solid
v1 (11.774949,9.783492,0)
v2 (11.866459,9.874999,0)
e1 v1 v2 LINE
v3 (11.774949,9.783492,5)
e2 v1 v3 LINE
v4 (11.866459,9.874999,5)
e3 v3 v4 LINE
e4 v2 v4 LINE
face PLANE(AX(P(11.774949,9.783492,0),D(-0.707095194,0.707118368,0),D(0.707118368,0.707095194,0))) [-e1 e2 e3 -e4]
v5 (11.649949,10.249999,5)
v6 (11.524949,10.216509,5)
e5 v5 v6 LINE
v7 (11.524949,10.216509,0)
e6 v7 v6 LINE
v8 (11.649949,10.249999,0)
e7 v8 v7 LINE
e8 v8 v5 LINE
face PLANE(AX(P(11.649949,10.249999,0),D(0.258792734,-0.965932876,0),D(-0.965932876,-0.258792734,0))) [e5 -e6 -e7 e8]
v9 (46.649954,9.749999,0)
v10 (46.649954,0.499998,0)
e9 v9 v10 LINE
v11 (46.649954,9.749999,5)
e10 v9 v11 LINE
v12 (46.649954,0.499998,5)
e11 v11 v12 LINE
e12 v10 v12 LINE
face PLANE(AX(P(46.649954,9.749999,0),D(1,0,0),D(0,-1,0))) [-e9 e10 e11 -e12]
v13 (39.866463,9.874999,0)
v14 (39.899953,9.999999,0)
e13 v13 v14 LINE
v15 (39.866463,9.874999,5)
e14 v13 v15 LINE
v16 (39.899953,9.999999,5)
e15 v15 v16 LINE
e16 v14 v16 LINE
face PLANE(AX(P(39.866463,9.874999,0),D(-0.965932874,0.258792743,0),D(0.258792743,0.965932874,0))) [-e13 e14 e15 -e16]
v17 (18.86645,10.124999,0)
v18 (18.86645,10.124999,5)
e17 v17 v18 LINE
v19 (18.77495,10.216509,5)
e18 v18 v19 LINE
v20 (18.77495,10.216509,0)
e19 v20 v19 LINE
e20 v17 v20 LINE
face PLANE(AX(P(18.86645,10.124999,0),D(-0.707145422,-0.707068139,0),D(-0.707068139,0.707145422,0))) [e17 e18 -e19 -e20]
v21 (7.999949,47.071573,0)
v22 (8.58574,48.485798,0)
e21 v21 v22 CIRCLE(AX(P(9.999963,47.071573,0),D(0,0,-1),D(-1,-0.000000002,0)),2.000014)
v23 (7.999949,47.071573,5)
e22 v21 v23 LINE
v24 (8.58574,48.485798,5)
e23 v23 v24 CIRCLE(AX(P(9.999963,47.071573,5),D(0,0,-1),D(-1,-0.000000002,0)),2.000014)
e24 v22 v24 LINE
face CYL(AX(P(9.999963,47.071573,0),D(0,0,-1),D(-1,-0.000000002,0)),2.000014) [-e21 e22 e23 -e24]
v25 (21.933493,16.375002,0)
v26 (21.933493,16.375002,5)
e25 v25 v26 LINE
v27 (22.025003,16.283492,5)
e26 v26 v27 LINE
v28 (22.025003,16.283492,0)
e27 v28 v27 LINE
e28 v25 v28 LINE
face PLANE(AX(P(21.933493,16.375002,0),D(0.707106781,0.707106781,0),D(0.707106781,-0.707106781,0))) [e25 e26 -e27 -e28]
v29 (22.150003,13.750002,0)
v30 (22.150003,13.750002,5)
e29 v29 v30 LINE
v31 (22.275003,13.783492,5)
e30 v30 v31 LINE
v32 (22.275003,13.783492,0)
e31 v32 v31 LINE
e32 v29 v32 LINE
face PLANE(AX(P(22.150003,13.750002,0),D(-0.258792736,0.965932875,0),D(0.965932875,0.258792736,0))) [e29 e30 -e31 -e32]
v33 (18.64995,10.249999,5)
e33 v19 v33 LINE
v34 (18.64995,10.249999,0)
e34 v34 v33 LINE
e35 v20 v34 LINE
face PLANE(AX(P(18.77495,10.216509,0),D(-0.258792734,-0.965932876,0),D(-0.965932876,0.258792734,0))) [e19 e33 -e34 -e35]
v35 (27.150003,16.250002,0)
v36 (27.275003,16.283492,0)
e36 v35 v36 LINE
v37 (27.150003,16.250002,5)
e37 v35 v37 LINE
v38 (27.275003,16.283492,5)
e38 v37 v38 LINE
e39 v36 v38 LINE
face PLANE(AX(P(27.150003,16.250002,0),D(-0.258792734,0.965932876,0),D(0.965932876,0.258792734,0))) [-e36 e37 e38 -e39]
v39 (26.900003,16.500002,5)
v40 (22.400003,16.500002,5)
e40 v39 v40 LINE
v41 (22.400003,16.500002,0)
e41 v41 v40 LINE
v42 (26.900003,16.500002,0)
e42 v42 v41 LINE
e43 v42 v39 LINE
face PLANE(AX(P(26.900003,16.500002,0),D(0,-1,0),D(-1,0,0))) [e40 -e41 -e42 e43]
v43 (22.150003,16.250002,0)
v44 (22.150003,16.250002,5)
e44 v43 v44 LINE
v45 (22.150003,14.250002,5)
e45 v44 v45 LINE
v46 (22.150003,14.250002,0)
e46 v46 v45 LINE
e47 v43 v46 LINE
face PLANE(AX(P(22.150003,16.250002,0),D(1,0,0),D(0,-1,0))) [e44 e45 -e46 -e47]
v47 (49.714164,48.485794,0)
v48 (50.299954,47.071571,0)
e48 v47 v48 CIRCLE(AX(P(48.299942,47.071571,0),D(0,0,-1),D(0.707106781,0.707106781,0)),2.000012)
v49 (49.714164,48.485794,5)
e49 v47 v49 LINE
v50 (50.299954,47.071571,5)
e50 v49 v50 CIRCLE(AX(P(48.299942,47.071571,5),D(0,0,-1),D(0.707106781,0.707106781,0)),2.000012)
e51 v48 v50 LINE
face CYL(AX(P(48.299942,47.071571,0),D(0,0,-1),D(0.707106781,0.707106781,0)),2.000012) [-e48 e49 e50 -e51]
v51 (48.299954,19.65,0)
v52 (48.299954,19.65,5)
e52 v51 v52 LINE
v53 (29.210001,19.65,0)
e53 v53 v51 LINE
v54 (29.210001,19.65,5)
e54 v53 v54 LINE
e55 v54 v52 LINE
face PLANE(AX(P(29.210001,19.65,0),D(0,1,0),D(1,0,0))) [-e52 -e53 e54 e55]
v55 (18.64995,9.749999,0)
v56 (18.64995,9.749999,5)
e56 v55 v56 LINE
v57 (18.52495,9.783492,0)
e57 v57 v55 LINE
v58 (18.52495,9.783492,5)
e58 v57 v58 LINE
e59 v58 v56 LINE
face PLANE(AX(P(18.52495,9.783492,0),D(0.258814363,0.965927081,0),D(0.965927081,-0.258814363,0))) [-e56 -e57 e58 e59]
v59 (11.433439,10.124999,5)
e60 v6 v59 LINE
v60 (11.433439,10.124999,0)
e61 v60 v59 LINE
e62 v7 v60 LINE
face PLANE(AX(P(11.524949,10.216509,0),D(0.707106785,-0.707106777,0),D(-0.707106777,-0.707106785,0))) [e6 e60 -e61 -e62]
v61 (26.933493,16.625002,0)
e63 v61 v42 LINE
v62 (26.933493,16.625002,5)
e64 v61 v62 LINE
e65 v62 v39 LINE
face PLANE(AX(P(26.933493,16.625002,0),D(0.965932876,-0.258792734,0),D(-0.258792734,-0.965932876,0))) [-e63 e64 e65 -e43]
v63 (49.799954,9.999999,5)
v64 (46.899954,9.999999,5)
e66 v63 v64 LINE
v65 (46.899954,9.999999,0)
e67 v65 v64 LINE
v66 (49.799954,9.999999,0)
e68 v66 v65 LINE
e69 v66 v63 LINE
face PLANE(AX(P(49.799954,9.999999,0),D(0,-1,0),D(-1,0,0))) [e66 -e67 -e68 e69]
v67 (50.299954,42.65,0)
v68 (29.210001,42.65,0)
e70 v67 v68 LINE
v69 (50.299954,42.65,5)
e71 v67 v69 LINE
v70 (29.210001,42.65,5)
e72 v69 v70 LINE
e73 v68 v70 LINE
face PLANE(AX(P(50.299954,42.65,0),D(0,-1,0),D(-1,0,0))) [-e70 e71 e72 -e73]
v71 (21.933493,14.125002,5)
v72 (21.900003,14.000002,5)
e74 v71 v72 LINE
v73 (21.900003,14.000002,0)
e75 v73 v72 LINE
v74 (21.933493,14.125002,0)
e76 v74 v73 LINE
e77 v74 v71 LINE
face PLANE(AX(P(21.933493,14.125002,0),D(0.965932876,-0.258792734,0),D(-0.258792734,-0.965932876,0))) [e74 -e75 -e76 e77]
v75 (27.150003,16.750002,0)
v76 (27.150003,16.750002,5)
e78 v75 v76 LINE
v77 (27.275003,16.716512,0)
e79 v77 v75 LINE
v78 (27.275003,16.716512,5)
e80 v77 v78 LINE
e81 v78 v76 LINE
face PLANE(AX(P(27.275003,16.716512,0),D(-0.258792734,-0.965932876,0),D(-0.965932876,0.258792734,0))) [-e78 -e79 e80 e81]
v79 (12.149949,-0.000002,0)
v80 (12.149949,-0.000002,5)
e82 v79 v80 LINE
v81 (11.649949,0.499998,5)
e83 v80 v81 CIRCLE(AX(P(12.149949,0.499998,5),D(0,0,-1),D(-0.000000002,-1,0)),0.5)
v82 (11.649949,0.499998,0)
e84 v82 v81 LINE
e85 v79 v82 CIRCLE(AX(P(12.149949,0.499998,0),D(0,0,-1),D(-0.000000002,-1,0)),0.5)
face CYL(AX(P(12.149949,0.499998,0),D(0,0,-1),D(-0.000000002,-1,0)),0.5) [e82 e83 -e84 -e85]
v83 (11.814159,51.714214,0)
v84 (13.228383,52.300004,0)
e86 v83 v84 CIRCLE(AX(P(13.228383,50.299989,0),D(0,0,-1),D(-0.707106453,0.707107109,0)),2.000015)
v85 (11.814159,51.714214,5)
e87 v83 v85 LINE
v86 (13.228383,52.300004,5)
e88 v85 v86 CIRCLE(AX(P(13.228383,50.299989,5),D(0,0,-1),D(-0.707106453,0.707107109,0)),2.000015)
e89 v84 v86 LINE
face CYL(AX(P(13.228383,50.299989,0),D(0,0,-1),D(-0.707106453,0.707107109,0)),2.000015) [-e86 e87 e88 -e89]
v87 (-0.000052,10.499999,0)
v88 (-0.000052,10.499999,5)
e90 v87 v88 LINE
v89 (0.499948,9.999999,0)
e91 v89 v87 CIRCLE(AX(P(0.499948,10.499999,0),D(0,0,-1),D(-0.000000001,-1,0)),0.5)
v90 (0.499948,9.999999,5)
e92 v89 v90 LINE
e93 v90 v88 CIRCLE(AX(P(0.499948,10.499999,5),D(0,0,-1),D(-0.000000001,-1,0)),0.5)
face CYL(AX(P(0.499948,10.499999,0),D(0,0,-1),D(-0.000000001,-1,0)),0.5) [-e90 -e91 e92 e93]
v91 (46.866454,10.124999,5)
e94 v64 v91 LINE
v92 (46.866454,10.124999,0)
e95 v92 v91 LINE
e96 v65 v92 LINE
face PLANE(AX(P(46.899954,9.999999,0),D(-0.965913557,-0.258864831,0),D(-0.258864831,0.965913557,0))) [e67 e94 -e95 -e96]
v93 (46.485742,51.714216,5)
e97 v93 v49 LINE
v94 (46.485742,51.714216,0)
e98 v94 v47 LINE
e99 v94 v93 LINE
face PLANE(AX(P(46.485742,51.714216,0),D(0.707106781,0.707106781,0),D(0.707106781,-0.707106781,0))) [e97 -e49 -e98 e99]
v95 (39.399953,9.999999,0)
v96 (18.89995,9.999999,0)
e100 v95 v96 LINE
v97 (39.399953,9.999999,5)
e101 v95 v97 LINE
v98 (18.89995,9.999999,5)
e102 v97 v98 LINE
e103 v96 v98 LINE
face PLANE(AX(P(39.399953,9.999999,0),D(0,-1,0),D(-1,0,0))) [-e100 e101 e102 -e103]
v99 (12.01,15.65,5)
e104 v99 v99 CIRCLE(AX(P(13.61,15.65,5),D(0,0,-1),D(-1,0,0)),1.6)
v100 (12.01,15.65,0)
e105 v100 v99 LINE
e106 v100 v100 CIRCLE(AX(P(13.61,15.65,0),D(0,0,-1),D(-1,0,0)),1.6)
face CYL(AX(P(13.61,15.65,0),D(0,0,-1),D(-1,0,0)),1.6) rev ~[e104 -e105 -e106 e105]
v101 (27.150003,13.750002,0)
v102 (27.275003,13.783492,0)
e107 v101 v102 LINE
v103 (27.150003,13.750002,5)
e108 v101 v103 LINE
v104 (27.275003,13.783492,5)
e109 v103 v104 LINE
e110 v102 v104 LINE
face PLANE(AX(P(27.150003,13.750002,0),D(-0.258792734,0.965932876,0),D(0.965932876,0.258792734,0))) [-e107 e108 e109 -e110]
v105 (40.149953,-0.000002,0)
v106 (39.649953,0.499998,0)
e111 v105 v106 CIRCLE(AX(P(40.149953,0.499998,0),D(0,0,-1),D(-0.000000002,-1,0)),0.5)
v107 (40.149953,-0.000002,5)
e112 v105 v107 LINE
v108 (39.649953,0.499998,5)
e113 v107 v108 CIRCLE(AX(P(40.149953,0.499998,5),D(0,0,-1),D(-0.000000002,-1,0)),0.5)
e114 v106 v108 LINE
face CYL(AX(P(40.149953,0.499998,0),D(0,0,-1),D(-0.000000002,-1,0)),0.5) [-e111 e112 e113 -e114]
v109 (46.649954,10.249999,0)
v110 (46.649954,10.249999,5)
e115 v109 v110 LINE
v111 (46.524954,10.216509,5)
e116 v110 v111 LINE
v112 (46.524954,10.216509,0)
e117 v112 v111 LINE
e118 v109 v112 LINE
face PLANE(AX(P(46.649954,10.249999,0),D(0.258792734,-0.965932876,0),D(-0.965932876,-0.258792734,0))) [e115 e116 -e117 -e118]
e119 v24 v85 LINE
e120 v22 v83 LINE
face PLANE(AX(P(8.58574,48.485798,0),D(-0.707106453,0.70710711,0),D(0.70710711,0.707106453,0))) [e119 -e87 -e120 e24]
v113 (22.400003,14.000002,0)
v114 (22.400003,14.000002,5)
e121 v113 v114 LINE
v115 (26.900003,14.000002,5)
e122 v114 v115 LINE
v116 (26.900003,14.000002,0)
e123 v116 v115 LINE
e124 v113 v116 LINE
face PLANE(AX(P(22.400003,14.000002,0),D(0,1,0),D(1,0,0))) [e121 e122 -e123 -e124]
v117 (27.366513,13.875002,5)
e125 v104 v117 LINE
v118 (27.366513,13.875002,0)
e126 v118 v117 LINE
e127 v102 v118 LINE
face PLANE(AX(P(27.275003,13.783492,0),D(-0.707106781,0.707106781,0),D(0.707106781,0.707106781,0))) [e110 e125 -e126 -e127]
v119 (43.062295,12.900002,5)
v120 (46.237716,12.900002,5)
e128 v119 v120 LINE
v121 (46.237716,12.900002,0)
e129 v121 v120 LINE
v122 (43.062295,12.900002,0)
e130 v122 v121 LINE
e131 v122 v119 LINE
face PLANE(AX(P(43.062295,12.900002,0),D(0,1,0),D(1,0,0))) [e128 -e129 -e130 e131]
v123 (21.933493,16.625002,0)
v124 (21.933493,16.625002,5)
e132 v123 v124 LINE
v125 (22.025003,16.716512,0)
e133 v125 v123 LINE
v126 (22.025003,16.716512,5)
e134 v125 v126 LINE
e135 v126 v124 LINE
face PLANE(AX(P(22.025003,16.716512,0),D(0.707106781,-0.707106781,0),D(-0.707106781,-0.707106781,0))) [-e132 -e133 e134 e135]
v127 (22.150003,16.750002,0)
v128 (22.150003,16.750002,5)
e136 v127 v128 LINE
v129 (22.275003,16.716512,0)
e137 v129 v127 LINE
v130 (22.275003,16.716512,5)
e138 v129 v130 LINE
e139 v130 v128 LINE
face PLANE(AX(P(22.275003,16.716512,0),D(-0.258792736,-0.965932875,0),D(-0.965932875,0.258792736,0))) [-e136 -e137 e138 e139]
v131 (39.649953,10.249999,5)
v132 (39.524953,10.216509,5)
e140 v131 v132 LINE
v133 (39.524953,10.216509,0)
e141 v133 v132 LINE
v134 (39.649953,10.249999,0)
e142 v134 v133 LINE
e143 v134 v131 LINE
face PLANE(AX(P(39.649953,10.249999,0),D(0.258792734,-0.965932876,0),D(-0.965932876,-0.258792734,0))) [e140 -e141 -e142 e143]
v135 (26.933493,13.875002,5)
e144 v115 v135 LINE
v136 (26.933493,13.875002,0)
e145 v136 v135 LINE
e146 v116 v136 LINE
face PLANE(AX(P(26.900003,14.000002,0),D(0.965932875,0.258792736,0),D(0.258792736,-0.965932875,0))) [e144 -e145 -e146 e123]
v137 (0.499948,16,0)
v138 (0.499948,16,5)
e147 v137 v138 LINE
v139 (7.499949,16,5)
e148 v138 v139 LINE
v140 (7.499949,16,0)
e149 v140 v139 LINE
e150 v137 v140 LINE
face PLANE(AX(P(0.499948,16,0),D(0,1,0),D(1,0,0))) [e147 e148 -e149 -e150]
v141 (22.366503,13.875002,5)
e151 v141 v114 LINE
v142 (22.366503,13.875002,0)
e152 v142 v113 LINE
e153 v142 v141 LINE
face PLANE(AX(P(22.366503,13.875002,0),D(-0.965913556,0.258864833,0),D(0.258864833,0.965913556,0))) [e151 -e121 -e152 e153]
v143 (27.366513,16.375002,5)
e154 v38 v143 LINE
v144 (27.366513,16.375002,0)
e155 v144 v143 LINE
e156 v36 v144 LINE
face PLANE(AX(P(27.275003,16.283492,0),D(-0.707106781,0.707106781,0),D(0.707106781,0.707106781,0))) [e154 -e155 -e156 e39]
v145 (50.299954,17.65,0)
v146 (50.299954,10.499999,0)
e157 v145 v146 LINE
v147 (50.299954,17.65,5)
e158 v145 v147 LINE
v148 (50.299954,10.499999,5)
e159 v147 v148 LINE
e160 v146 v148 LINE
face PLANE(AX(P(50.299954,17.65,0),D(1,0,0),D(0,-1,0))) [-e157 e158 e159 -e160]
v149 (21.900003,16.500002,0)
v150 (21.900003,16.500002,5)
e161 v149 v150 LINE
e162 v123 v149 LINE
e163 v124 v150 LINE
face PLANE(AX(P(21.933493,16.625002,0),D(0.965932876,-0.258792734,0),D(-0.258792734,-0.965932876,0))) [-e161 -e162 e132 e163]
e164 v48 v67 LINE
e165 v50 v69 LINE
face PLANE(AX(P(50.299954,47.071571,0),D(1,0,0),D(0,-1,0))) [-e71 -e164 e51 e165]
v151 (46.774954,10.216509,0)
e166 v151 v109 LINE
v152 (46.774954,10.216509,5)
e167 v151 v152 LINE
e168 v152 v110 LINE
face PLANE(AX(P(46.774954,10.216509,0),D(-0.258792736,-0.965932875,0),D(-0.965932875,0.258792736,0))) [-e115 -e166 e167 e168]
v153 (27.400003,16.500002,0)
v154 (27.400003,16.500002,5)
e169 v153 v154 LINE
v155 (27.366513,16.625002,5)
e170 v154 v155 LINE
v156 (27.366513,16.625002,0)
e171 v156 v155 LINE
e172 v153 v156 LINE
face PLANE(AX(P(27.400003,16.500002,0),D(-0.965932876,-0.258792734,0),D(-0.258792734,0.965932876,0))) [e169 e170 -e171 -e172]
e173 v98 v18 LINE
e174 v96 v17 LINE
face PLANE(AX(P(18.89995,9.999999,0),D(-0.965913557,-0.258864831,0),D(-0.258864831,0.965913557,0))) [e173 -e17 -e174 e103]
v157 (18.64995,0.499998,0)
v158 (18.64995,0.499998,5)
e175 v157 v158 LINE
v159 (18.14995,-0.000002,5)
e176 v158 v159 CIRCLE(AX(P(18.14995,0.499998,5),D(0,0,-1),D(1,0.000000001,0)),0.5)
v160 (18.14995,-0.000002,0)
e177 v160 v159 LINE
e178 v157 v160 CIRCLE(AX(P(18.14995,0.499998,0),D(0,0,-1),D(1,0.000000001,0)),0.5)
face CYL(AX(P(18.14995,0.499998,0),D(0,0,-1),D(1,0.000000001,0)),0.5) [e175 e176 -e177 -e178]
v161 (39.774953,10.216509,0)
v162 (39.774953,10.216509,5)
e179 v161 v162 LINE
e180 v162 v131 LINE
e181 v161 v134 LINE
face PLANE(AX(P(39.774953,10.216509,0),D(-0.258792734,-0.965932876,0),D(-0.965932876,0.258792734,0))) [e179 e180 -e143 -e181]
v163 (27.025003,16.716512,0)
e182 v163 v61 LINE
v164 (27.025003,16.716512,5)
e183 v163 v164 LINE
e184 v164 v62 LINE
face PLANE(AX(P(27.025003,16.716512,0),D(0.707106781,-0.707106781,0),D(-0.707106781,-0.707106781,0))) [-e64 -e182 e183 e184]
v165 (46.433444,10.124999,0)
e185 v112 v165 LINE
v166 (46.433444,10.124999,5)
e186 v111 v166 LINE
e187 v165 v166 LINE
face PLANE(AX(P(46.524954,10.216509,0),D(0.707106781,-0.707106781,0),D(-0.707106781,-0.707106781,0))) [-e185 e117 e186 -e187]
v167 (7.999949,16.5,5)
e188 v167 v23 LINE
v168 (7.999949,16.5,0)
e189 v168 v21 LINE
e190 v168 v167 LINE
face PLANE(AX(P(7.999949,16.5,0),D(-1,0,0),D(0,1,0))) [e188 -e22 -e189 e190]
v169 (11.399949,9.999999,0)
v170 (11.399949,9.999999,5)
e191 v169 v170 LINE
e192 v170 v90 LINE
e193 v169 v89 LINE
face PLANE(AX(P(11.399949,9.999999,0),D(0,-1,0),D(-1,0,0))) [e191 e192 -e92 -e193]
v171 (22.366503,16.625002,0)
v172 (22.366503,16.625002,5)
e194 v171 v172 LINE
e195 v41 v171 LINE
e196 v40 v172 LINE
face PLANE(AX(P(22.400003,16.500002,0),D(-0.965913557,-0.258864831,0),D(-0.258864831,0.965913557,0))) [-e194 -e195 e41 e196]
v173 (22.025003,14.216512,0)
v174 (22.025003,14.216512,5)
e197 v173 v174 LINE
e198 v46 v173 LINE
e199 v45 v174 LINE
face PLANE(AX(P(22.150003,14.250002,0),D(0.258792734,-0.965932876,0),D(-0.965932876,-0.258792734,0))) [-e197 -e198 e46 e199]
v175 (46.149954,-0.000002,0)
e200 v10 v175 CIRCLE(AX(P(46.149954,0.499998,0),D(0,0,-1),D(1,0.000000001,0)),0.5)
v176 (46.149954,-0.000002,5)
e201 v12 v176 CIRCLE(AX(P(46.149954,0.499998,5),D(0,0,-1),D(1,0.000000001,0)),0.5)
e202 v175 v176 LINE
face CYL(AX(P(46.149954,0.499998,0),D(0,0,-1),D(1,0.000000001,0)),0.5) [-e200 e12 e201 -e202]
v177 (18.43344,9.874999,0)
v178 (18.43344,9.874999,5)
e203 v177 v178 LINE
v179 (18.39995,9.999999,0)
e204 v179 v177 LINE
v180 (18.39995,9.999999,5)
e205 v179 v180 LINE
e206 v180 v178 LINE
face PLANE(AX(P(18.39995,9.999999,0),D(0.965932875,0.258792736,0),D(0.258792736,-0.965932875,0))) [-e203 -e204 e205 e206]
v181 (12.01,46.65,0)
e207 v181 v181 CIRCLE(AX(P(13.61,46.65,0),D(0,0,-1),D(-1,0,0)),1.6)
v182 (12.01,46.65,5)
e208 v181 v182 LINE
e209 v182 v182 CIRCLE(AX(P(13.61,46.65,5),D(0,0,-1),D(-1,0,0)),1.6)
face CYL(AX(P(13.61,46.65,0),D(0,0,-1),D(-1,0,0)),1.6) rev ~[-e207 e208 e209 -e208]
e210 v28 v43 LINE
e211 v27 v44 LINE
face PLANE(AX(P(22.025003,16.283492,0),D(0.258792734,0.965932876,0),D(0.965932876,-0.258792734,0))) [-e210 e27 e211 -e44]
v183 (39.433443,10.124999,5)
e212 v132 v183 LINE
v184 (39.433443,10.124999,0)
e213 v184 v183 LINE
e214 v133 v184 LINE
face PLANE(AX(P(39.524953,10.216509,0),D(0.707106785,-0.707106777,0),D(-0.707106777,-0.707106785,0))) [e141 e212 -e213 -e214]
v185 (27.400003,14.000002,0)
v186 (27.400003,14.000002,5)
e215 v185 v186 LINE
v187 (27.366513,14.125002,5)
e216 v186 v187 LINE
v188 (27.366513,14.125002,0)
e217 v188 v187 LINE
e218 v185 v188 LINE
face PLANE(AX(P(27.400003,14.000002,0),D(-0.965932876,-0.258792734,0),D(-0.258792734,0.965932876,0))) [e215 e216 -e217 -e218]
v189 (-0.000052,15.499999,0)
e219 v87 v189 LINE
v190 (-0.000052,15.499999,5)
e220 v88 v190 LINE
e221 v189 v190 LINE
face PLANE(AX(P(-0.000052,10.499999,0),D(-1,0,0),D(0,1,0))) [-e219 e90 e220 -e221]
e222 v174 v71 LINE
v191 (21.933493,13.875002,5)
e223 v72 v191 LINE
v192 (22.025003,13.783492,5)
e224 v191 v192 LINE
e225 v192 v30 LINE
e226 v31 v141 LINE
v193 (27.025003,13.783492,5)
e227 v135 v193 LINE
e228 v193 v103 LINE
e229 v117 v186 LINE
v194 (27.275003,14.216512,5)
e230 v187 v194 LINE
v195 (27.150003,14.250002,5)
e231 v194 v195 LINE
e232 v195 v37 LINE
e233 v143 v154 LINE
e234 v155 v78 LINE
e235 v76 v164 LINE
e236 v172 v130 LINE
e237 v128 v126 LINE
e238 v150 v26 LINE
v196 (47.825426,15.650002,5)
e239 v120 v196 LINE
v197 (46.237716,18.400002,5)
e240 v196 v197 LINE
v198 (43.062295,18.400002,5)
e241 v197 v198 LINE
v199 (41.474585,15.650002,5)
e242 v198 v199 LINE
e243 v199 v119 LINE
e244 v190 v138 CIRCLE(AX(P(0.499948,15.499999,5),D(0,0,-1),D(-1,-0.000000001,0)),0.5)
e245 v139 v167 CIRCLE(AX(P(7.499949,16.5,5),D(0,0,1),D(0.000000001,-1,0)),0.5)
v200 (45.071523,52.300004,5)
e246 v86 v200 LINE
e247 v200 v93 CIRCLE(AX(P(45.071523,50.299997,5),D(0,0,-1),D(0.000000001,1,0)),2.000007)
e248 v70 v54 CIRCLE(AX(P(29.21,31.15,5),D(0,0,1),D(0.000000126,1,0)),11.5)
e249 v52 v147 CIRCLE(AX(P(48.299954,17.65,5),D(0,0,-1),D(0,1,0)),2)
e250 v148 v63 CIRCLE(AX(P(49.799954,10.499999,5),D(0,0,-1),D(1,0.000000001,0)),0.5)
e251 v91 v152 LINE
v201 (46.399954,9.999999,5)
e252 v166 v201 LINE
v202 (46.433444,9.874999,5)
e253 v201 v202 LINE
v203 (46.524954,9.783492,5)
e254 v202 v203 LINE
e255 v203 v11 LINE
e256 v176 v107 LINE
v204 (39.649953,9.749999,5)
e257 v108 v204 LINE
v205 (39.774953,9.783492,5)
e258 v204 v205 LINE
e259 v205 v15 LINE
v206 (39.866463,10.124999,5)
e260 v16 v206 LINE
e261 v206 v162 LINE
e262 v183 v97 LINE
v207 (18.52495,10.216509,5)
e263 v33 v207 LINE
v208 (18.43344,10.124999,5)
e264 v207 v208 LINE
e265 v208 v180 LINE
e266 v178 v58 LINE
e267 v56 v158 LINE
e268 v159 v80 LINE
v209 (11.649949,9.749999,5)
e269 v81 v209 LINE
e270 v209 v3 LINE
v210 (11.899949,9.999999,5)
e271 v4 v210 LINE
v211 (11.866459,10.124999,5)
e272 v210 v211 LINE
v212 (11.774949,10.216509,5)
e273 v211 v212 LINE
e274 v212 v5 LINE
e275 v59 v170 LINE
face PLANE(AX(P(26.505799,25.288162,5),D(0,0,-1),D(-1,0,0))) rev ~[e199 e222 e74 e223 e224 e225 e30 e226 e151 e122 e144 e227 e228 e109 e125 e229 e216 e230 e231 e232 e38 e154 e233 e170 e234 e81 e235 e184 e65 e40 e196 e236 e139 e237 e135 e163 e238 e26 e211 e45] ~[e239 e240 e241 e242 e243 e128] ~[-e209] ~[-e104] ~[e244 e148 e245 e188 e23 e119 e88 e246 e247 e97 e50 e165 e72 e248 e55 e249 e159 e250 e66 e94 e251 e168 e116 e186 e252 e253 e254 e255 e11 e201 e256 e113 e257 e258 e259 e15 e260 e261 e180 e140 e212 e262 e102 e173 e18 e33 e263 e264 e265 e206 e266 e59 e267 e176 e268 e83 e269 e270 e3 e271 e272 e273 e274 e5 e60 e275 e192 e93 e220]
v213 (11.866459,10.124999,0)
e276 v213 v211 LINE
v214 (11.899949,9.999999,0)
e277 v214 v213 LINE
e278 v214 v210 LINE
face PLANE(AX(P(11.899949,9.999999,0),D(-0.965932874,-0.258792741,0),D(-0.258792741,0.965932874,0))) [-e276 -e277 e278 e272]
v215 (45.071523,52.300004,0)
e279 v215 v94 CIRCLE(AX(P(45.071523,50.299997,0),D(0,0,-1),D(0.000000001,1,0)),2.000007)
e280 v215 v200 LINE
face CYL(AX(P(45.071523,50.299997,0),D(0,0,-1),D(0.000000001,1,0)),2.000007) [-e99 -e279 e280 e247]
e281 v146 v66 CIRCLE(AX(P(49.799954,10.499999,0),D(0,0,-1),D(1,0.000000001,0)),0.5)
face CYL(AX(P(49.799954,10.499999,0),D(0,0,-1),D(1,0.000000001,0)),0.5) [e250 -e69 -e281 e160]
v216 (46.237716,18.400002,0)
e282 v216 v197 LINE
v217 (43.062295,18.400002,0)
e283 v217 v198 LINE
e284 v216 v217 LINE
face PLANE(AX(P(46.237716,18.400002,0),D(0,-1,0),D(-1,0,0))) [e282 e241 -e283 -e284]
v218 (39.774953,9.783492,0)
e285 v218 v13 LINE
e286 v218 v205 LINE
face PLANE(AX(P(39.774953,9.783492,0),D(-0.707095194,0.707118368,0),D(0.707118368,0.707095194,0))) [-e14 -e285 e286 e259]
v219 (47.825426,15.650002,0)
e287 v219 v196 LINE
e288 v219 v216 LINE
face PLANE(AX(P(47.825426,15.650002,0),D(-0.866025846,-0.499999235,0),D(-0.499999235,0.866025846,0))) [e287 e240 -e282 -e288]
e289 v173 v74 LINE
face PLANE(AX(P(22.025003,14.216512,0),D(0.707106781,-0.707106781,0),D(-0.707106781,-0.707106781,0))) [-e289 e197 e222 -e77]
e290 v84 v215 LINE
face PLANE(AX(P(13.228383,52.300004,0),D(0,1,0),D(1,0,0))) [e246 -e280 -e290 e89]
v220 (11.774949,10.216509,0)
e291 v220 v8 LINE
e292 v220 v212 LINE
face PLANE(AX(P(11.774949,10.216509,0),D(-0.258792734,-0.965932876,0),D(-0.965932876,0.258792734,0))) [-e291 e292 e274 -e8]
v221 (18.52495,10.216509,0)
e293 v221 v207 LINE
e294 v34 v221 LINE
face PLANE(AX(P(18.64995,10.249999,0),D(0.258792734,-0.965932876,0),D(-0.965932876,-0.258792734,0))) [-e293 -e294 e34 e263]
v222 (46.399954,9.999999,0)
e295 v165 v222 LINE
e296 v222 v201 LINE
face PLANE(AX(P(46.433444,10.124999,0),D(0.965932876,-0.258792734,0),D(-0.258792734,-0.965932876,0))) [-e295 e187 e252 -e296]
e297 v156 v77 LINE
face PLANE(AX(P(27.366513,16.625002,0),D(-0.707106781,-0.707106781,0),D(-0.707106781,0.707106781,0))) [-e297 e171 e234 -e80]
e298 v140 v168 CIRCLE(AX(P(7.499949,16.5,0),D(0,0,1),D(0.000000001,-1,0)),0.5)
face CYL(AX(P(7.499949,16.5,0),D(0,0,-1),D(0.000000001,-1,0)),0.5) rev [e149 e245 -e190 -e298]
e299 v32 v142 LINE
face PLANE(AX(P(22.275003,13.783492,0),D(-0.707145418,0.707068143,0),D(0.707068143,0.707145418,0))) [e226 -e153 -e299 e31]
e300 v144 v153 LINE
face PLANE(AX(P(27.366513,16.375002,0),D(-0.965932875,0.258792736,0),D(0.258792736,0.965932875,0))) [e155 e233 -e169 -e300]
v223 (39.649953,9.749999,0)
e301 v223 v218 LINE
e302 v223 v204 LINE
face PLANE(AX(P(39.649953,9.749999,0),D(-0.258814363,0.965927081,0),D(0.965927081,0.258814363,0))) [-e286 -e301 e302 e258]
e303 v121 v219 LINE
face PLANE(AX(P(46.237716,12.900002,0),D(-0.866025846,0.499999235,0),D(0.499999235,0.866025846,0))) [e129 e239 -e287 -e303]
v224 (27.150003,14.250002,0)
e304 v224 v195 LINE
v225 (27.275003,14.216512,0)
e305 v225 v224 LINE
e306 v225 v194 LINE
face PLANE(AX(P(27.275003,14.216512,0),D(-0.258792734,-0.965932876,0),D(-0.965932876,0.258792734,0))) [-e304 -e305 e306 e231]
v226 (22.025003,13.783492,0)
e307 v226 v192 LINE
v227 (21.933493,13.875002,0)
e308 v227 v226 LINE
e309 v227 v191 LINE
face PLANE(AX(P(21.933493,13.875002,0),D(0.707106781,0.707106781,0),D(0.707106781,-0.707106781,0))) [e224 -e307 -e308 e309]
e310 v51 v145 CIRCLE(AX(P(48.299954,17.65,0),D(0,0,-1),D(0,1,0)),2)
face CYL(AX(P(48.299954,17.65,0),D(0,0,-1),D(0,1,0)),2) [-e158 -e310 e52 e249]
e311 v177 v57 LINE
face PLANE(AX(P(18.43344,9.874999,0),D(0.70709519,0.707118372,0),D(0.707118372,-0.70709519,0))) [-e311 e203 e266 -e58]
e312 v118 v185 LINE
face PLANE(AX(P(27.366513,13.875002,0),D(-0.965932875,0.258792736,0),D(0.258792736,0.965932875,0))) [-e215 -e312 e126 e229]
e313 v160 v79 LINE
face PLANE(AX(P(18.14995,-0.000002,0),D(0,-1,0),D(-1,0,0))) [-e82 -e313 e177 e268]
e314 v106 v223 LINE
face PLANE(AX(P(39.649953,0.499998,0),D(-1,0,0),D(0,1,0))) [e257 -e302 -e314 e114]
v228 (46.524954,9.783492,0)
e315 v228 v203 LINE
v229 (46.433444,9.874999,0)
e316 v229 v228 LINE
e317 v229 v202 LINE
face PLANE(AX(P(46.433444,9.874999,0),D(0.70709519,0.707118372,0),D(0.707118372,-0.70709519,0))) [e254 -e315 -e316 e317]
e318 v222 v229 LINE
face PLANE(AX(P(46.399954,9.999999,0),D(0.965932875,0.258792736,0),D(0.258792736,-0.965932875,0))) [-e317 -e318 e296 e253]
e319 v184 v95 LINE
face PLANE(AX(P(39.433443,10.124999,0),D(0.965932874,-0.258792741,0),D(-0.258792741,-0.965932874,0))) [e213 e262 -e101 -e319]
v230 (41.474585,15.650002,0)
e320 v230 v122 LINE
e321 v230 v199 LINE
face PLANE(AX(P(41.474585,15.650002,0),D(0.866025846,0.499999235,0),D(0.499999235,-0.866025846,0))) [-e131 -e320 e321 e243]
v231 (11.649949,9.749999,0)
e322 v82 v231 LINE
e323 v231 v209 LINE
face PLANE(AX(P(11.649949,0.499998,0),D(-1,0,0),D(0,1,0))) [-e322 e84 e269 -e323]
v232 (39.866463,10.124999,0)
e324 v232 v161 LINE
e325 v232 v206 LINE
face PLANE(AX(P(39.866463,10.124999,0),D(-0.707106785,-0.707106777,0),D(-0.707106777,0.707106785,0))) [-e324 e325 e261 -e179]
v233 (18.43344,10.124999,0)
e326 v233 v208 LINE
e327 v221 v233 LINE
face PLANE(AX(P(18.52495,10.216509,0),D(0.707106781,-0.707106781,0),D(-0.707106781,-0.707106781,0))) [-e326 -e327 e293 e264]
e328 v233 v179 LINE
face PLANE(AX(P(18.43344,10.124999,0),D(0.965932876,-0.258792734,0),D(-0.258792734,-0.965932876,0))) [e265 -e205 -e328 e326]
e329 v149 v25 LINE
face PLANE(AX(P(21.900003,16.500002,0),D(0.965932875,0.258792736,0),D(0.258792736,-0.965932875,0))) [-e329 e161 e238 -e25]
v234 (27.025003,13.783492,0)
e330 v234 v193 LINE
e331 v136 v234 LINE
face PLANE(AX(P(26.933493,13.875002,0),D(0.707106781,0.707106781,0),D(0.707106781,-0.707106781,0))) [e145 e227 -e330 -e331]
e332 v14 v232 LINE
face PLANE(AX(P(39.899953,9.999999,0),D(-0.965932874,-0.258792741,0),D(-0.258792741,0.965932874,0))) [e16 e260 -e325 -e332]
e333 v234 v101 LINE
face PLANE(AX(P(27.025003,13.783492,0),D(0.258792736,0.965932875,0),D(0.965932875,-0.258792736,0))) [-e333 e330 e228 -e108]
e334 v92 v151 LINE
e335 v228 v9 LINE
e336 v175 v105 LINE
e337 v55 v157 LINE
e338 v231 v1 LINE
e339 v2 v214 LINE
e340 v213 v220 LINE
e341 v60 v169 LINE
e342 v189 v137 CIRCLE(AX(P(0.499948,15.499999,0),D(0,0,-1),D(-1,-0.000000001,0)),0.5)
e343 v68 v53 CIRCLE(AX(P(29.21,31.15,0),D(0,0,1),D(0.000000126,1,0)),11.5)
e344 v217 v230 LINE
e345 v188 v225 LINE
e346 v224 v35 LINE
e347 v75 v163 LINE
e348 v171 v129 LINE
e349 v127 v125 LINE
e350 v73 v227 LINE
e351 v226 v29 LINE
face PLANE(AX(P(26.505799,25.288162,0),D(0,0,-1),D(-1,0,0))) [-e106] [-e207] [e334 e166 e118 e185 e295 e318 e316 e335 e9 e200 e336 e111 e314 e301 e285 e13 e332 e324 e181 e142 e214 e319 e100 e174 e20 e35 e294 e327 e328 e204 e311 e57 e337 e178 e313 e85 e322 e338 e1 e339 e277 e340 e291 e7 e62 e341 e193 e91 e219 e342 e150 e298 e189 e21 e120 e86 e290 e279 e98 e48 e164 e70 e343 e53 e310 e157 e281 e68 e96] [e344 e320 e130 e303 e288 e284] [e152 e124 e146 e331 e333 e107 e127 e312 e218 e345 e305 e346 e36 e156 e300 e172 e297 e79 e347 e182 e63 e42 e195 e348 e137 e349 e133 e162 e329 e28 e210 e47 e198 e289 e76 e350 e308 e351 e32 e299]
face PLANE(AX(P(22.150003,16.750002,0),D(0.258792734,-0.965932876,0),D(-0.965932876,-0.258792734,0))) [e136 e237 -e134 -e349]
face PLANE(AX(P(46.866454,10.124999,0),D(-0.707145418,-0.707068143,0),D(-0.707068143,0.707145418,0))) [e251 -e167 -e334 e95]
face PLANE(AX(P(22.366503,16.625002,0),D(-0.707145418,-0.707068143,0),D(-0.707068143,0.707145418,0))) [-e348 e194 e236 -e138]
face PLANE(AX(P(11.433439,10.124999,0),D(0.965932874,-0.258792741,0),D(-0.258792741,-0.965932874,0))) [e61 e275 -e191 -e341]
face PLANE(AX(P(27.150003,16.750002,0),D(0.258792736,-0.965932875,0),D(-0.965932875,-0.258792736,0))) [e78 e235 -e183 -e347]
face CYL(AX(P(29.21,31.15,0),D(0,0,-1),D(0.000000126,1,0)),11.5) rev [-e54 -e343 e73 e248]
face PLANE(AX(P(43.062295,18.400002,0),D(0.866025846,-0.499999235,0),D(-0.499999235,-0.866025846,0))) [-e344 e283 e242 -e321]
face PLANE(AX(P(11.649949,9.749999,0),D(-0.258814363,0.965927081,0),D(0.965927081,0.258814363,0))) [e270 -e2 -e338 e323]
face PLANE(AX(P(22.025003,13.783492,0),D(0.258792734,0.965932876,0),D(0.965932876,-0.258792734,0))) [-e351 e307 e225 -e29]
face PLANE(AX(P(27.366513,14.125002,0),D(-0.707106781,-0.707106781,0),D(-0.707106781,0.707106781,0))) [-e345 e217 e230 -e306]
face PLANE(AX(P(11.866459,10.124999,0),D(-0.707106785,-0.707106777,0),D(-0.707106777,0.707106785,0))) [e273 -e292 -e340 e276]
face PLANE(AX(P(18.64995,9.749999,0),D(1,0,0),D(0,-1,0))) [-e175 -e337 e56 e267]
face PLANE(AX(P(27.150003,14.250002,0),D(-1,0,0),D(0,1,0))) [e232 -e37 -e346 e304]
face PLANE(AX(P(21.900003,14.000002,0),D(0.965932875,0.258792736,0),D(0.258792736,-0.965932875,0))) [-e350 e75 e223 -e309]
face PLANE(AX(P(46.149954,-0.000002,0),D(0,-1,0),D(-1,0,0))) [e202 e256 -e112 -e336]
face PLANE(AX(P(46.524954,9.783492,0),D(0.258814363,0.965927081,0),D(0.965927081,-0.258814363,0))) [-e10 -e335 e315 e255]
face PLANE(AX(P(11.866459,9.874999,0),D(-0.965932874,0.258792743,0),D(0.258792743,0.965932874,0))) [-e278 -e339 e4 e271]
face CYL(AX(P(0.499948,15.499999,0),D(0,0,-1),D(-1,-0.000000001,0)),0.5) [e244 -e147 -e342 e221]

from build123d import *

# Parameters (mm, degrees)
ESQUISSE1_R        = 1.6
BOSS_EXTRU_1_DEPTH = 5


with BuildPart() as part:
    # Esquisse1 → Boss.-Extru.1 (new body)
    with BuildSketch(Plane(origin=(0, 0, 0), x_dir=(-1, 0, 0), z_dir=(0, 0, -1))):
        with BuildLine():
            Line((-13.228382526, 52.300004127), (-45.071523458, 52.300004127))
            ThreePointArc((-45.071523458, 52.300004127), (-45.836893076, 52.147762644), (-46.485742108, 51.714215582))
            Line((-46.485742108, 51.714215582), (-49.714164045, 48.485793645))
            ThreePointArc((-49.714164045, 48.485793645), (-50.147712239, 47.836942919), (-50.299954119, 47.071571303))
            Line((-50.299954119, 47.071571303), (-50.299954119, 42.65))
            Line((-50.299954119, 42.65), (-29.210001453, 42.65))
            ThreePointArc((-29.210001453, 42.65), (-17.71, 31.15), (-29.210001453, 19.65))
            Line((-29.210001453, 19.65), (-48.299953866, 19.65))
            ThreePointArc((-48.299953866, 19.65), (-49.714167607, 19.064213488), (-50.299954119, 17.649999747))
            Line((-50.299954119, 17.649999747), (-50.299954119, 10.499998844))
            ThreePointArc((-50.299954119, 10.499998844), (-50.153507491, 10.146445408), (-49.799954056, 9.99999878))
            Line((-49.799954056, 9.99999878), (-46.899953689, 9.99999878))
            Line((-46.899953689, 9.99999878), (-46.866453685, 10.124998796))
            Line((-46.866453685, 10.124998796), (-46.774953673, 10.216508808))
            Line((-46.774953673, 10.216508808), (-46.649953658, 10.249998812))
            Line((-46.649953658, 10.249998812), (-46.524953642, 10.216508808))
            Line((-46.524953642, 10.216508808), (-46.43344363, 10.124998796))
            Line((-46.43344363, 10.124998796), (-46.399953626, 9.99999878))
            Line((-46.399953626, 9.99999878), (-46.43344363, 9.874998765))
            Line((-46.43344363, 9.874998765), (-46.524953642, 9.783491753))
            Line((-46.524953642, 9.783491753), (-46.649953658, 9.749998749))
            Line((-46.649953658, 9.749998749), (-46.649953658, 0.49999758))
            ThreePointArc((-46.649953658, 0.49999758), (-46.50350703, 0.146444144), (-46.149953594, -2.484e-06))
            Line((-46.149953594, -2.484e-06), (-40.149952936, -2.484e-06))
            ThreePointArc((-40.149952936, -2.484e-06), (-39.79639943, 0.146444174), (-39.649952773, 0.49999768))
            Line((-39.649952773, 0.49999768), (-39.649952773, 9.749998749))
            Line((-39.649952773, 9.749998749), (-39.774952789, 9.783491753))
            Line((-39.774952789, 9.783491753), (-39.8664628, 9.874998765))
            Line((-39.8664628, 9.874998765), (-39.899952805, 9.99999878))
            Line((-39.899952805, 9.99999878), (-39.8664628, 10.124998796))
            Line((-39.8664628, 10.124998796), (-39.774952789, 10.216508808))
            Line((-39.774952789, 10.216508808), (-39.649952773, 10.249998812))
            Line((-39.649952773, 10.249998812), (-39.524952757, 10.216508808))
            Line((-39.524952757, 10.216508808), (-39.433442746, 10.124998796))
            Line((-39.433442746, 10.124998796), (-39.399952741, 9.99999878))
            Line((-39.399952741, 9.99999878), (-18.89995015, 9.99999878))
            Line((-18.89995015, 9.99999878), (-18.866450146, 10.124998796))
            Line((-18.866450146, 10.124998796), (-18.774950135, 10.216508808))
            Line((-18.774950135, 10.216508808), (-18.649950119, 10.249998812))
            Line((-18.649950119, 10.249998812), (-18.524950103, 10.216508808))
            Line((-18.524950103, 10.216508808), (-18.433440091, 10.124998796))
            Line((-18.433440091, 10.124998796), (-18.399950087, 9.99999878))
            Line((-18.399950087, 9.99999878), (-18.433440091, 9.874998765))
            Line((-18.433440091, 9.874998765), (-18.524950103, 9.783491753))
            Line((-18.524950103, 9.783491753), (-18.649950119, 9.749998749))
            Line((-18.649950119, 9.749998749), (-18.649950119, 0.49999758))
            ThreePointArc((-18.649950119, 0.49999758), (-18.503503491, 0.146444144), (-18.149950056, -2.484e-06))
            Line((-18.149950056, -2.484e-06), (-12.149949397, -2.484e-06))
            ThreePointArc((-12.149949397, -2.484e-06), (-11.796395891, 0.146444174), (-11.649949234, 0.49999768))
            Line((-11.649949234, 0.49999768), (-11.649949234, 9.749998749))
            Line((-11.649949234, 9.749998749), (-11.77494925, 9.783491753))
            Line((-11.77494925, 9.783491753), (-11.866459261, 9.874998765))
            Line((-11.866459261, 9.874998765), (-11.899949266, 9.99999878))
            Line((-11.899949266, 9.99999878), (-11.866459261, 10.124998796))
            Line((-11.866459261, 10.124998796), (-11.77494925, 10.216508808))
            Line((-11.77494925, 10.216508808), (-11.649949234, 10.249998812))
            Line((-11.649949234, 10.249998812), (-11.524949218, 10.216508808))
            Line((-11.524949218, 10.216508808), (-11.433439207, 10.124998796))
            Line((-11.433439207, 10.124998796), (-11.399949202, 9.99999878))
            Line((-11.399949202, 9.99999878), (-0.499947825, 9.99999878))
            ThreePointArc((-0.499947825, 9.99999878), (-0.14639439, 10.146445408), (5.2238e-05, 10.499998844))
            Line((5.2238e-05, 10.499998844), (5.2238e-05, 15.499999475))
            ThreePointArc((5.2238e-05, 15.499999475), (-0.14639439, 15.853552911), (-0.499947825, 15.999999539))
            Line((-0.499947825, 15.999999539), (-7.49994871, 15.999999539))
            ThreePointArc((-7.49994871, 15.999999539), (-7.853502145, 16.146446167), (-7.999948773, 16.499999602))
            Line((-7.999948773, 16.499999602), (-7.999948773, 47.071573466))
            ThreePointArc((-7.999948773, 47.071573466), (-8.152190984, 47.836946285), (-8.585740096, 48.485797894))
            Line((-8.585740096, 48.485797894), (-11.814159255, 51.714214053))
            ThreePointArc((-11.814159255, 51.714214053), (-12.46301048, 52.147762254), (-13.228382526, 52.300004127))
        make_face()
        with Locations((-13.61, 46.65)):
            Circle(ESQUISSE1_R, mode=Mode.SUBTRACT)
        with Locations((-13.61, 15.65)):
            Circle(ESQUISSE1_R, mode=Mode.SUBTRACT)
        Polygon((-22.025002784, 14.216511797), (-21.933492772, 14.125001785), (-21.900002768, 14.000001769), (-21.933492772, 13.875001754), (-22.025002784, 13.783491742), (-22.1500028, 13.750001738), (-22.275002815, 13.783491742), (-22.366502827, 13.875001754), (-22.400002831, 14.000001769), (-26.9000034, 14.000001769), (-26.933493404, 13.875001754), (-27.025003416, 13.783491742), (-27.150003431, 13.750001738), (-27.275003447, 13.783491742), (-27.366513459, 13.875001754), (-27.400003463, 14.000001769), (-27.366513459, 14.125001785), (-27.275003447, 14.216511797), (-27.150003431, 14.250001801), (-27.150003431, 16.250002054), (-27.275003447, 16.283492058), (-27.366513459, 16.37500207), (-27.400003463, 16.500002085), (-27.366513459, 16.625002101), (-27.275003447, 16.716512113), (-27.150003431, 16.750002117), (-27.025003416, 16.716512113), (-26.933493404, 16.625002101), (-26.9000034, 16.500002085), (-22.400002831, 16.500002085), (-22.366502827, 16.625002101), (-22.275002815, 16.716512113), (-22.1500028, 16.750002117), (-22.025002784, 16.716512113), (-21.933492772, 16.625002101), (-21.900002768, 16.500002085), (-21.933492772, 16.37500207), (-22.025002784, 16.283492058), (-22.1500028, 16.250002054), (-22.1500028, 14.250001801), align=None, mode=Mode.SUBTRACT)
        Polygon((-43.062295443, 18.400002326), (-41.474585242, 15.650001978), (-43.062295443, 12.90000163), (-46.237715844, 12.90000163), (-47.825426045, 15.650001978), (-46.237715844, 18.400002326), align=None, mode=Mode.SUBTRACT)
    extrude(amount=-BOSS_EXTRU_1_DEPTH)


solid = part.part
